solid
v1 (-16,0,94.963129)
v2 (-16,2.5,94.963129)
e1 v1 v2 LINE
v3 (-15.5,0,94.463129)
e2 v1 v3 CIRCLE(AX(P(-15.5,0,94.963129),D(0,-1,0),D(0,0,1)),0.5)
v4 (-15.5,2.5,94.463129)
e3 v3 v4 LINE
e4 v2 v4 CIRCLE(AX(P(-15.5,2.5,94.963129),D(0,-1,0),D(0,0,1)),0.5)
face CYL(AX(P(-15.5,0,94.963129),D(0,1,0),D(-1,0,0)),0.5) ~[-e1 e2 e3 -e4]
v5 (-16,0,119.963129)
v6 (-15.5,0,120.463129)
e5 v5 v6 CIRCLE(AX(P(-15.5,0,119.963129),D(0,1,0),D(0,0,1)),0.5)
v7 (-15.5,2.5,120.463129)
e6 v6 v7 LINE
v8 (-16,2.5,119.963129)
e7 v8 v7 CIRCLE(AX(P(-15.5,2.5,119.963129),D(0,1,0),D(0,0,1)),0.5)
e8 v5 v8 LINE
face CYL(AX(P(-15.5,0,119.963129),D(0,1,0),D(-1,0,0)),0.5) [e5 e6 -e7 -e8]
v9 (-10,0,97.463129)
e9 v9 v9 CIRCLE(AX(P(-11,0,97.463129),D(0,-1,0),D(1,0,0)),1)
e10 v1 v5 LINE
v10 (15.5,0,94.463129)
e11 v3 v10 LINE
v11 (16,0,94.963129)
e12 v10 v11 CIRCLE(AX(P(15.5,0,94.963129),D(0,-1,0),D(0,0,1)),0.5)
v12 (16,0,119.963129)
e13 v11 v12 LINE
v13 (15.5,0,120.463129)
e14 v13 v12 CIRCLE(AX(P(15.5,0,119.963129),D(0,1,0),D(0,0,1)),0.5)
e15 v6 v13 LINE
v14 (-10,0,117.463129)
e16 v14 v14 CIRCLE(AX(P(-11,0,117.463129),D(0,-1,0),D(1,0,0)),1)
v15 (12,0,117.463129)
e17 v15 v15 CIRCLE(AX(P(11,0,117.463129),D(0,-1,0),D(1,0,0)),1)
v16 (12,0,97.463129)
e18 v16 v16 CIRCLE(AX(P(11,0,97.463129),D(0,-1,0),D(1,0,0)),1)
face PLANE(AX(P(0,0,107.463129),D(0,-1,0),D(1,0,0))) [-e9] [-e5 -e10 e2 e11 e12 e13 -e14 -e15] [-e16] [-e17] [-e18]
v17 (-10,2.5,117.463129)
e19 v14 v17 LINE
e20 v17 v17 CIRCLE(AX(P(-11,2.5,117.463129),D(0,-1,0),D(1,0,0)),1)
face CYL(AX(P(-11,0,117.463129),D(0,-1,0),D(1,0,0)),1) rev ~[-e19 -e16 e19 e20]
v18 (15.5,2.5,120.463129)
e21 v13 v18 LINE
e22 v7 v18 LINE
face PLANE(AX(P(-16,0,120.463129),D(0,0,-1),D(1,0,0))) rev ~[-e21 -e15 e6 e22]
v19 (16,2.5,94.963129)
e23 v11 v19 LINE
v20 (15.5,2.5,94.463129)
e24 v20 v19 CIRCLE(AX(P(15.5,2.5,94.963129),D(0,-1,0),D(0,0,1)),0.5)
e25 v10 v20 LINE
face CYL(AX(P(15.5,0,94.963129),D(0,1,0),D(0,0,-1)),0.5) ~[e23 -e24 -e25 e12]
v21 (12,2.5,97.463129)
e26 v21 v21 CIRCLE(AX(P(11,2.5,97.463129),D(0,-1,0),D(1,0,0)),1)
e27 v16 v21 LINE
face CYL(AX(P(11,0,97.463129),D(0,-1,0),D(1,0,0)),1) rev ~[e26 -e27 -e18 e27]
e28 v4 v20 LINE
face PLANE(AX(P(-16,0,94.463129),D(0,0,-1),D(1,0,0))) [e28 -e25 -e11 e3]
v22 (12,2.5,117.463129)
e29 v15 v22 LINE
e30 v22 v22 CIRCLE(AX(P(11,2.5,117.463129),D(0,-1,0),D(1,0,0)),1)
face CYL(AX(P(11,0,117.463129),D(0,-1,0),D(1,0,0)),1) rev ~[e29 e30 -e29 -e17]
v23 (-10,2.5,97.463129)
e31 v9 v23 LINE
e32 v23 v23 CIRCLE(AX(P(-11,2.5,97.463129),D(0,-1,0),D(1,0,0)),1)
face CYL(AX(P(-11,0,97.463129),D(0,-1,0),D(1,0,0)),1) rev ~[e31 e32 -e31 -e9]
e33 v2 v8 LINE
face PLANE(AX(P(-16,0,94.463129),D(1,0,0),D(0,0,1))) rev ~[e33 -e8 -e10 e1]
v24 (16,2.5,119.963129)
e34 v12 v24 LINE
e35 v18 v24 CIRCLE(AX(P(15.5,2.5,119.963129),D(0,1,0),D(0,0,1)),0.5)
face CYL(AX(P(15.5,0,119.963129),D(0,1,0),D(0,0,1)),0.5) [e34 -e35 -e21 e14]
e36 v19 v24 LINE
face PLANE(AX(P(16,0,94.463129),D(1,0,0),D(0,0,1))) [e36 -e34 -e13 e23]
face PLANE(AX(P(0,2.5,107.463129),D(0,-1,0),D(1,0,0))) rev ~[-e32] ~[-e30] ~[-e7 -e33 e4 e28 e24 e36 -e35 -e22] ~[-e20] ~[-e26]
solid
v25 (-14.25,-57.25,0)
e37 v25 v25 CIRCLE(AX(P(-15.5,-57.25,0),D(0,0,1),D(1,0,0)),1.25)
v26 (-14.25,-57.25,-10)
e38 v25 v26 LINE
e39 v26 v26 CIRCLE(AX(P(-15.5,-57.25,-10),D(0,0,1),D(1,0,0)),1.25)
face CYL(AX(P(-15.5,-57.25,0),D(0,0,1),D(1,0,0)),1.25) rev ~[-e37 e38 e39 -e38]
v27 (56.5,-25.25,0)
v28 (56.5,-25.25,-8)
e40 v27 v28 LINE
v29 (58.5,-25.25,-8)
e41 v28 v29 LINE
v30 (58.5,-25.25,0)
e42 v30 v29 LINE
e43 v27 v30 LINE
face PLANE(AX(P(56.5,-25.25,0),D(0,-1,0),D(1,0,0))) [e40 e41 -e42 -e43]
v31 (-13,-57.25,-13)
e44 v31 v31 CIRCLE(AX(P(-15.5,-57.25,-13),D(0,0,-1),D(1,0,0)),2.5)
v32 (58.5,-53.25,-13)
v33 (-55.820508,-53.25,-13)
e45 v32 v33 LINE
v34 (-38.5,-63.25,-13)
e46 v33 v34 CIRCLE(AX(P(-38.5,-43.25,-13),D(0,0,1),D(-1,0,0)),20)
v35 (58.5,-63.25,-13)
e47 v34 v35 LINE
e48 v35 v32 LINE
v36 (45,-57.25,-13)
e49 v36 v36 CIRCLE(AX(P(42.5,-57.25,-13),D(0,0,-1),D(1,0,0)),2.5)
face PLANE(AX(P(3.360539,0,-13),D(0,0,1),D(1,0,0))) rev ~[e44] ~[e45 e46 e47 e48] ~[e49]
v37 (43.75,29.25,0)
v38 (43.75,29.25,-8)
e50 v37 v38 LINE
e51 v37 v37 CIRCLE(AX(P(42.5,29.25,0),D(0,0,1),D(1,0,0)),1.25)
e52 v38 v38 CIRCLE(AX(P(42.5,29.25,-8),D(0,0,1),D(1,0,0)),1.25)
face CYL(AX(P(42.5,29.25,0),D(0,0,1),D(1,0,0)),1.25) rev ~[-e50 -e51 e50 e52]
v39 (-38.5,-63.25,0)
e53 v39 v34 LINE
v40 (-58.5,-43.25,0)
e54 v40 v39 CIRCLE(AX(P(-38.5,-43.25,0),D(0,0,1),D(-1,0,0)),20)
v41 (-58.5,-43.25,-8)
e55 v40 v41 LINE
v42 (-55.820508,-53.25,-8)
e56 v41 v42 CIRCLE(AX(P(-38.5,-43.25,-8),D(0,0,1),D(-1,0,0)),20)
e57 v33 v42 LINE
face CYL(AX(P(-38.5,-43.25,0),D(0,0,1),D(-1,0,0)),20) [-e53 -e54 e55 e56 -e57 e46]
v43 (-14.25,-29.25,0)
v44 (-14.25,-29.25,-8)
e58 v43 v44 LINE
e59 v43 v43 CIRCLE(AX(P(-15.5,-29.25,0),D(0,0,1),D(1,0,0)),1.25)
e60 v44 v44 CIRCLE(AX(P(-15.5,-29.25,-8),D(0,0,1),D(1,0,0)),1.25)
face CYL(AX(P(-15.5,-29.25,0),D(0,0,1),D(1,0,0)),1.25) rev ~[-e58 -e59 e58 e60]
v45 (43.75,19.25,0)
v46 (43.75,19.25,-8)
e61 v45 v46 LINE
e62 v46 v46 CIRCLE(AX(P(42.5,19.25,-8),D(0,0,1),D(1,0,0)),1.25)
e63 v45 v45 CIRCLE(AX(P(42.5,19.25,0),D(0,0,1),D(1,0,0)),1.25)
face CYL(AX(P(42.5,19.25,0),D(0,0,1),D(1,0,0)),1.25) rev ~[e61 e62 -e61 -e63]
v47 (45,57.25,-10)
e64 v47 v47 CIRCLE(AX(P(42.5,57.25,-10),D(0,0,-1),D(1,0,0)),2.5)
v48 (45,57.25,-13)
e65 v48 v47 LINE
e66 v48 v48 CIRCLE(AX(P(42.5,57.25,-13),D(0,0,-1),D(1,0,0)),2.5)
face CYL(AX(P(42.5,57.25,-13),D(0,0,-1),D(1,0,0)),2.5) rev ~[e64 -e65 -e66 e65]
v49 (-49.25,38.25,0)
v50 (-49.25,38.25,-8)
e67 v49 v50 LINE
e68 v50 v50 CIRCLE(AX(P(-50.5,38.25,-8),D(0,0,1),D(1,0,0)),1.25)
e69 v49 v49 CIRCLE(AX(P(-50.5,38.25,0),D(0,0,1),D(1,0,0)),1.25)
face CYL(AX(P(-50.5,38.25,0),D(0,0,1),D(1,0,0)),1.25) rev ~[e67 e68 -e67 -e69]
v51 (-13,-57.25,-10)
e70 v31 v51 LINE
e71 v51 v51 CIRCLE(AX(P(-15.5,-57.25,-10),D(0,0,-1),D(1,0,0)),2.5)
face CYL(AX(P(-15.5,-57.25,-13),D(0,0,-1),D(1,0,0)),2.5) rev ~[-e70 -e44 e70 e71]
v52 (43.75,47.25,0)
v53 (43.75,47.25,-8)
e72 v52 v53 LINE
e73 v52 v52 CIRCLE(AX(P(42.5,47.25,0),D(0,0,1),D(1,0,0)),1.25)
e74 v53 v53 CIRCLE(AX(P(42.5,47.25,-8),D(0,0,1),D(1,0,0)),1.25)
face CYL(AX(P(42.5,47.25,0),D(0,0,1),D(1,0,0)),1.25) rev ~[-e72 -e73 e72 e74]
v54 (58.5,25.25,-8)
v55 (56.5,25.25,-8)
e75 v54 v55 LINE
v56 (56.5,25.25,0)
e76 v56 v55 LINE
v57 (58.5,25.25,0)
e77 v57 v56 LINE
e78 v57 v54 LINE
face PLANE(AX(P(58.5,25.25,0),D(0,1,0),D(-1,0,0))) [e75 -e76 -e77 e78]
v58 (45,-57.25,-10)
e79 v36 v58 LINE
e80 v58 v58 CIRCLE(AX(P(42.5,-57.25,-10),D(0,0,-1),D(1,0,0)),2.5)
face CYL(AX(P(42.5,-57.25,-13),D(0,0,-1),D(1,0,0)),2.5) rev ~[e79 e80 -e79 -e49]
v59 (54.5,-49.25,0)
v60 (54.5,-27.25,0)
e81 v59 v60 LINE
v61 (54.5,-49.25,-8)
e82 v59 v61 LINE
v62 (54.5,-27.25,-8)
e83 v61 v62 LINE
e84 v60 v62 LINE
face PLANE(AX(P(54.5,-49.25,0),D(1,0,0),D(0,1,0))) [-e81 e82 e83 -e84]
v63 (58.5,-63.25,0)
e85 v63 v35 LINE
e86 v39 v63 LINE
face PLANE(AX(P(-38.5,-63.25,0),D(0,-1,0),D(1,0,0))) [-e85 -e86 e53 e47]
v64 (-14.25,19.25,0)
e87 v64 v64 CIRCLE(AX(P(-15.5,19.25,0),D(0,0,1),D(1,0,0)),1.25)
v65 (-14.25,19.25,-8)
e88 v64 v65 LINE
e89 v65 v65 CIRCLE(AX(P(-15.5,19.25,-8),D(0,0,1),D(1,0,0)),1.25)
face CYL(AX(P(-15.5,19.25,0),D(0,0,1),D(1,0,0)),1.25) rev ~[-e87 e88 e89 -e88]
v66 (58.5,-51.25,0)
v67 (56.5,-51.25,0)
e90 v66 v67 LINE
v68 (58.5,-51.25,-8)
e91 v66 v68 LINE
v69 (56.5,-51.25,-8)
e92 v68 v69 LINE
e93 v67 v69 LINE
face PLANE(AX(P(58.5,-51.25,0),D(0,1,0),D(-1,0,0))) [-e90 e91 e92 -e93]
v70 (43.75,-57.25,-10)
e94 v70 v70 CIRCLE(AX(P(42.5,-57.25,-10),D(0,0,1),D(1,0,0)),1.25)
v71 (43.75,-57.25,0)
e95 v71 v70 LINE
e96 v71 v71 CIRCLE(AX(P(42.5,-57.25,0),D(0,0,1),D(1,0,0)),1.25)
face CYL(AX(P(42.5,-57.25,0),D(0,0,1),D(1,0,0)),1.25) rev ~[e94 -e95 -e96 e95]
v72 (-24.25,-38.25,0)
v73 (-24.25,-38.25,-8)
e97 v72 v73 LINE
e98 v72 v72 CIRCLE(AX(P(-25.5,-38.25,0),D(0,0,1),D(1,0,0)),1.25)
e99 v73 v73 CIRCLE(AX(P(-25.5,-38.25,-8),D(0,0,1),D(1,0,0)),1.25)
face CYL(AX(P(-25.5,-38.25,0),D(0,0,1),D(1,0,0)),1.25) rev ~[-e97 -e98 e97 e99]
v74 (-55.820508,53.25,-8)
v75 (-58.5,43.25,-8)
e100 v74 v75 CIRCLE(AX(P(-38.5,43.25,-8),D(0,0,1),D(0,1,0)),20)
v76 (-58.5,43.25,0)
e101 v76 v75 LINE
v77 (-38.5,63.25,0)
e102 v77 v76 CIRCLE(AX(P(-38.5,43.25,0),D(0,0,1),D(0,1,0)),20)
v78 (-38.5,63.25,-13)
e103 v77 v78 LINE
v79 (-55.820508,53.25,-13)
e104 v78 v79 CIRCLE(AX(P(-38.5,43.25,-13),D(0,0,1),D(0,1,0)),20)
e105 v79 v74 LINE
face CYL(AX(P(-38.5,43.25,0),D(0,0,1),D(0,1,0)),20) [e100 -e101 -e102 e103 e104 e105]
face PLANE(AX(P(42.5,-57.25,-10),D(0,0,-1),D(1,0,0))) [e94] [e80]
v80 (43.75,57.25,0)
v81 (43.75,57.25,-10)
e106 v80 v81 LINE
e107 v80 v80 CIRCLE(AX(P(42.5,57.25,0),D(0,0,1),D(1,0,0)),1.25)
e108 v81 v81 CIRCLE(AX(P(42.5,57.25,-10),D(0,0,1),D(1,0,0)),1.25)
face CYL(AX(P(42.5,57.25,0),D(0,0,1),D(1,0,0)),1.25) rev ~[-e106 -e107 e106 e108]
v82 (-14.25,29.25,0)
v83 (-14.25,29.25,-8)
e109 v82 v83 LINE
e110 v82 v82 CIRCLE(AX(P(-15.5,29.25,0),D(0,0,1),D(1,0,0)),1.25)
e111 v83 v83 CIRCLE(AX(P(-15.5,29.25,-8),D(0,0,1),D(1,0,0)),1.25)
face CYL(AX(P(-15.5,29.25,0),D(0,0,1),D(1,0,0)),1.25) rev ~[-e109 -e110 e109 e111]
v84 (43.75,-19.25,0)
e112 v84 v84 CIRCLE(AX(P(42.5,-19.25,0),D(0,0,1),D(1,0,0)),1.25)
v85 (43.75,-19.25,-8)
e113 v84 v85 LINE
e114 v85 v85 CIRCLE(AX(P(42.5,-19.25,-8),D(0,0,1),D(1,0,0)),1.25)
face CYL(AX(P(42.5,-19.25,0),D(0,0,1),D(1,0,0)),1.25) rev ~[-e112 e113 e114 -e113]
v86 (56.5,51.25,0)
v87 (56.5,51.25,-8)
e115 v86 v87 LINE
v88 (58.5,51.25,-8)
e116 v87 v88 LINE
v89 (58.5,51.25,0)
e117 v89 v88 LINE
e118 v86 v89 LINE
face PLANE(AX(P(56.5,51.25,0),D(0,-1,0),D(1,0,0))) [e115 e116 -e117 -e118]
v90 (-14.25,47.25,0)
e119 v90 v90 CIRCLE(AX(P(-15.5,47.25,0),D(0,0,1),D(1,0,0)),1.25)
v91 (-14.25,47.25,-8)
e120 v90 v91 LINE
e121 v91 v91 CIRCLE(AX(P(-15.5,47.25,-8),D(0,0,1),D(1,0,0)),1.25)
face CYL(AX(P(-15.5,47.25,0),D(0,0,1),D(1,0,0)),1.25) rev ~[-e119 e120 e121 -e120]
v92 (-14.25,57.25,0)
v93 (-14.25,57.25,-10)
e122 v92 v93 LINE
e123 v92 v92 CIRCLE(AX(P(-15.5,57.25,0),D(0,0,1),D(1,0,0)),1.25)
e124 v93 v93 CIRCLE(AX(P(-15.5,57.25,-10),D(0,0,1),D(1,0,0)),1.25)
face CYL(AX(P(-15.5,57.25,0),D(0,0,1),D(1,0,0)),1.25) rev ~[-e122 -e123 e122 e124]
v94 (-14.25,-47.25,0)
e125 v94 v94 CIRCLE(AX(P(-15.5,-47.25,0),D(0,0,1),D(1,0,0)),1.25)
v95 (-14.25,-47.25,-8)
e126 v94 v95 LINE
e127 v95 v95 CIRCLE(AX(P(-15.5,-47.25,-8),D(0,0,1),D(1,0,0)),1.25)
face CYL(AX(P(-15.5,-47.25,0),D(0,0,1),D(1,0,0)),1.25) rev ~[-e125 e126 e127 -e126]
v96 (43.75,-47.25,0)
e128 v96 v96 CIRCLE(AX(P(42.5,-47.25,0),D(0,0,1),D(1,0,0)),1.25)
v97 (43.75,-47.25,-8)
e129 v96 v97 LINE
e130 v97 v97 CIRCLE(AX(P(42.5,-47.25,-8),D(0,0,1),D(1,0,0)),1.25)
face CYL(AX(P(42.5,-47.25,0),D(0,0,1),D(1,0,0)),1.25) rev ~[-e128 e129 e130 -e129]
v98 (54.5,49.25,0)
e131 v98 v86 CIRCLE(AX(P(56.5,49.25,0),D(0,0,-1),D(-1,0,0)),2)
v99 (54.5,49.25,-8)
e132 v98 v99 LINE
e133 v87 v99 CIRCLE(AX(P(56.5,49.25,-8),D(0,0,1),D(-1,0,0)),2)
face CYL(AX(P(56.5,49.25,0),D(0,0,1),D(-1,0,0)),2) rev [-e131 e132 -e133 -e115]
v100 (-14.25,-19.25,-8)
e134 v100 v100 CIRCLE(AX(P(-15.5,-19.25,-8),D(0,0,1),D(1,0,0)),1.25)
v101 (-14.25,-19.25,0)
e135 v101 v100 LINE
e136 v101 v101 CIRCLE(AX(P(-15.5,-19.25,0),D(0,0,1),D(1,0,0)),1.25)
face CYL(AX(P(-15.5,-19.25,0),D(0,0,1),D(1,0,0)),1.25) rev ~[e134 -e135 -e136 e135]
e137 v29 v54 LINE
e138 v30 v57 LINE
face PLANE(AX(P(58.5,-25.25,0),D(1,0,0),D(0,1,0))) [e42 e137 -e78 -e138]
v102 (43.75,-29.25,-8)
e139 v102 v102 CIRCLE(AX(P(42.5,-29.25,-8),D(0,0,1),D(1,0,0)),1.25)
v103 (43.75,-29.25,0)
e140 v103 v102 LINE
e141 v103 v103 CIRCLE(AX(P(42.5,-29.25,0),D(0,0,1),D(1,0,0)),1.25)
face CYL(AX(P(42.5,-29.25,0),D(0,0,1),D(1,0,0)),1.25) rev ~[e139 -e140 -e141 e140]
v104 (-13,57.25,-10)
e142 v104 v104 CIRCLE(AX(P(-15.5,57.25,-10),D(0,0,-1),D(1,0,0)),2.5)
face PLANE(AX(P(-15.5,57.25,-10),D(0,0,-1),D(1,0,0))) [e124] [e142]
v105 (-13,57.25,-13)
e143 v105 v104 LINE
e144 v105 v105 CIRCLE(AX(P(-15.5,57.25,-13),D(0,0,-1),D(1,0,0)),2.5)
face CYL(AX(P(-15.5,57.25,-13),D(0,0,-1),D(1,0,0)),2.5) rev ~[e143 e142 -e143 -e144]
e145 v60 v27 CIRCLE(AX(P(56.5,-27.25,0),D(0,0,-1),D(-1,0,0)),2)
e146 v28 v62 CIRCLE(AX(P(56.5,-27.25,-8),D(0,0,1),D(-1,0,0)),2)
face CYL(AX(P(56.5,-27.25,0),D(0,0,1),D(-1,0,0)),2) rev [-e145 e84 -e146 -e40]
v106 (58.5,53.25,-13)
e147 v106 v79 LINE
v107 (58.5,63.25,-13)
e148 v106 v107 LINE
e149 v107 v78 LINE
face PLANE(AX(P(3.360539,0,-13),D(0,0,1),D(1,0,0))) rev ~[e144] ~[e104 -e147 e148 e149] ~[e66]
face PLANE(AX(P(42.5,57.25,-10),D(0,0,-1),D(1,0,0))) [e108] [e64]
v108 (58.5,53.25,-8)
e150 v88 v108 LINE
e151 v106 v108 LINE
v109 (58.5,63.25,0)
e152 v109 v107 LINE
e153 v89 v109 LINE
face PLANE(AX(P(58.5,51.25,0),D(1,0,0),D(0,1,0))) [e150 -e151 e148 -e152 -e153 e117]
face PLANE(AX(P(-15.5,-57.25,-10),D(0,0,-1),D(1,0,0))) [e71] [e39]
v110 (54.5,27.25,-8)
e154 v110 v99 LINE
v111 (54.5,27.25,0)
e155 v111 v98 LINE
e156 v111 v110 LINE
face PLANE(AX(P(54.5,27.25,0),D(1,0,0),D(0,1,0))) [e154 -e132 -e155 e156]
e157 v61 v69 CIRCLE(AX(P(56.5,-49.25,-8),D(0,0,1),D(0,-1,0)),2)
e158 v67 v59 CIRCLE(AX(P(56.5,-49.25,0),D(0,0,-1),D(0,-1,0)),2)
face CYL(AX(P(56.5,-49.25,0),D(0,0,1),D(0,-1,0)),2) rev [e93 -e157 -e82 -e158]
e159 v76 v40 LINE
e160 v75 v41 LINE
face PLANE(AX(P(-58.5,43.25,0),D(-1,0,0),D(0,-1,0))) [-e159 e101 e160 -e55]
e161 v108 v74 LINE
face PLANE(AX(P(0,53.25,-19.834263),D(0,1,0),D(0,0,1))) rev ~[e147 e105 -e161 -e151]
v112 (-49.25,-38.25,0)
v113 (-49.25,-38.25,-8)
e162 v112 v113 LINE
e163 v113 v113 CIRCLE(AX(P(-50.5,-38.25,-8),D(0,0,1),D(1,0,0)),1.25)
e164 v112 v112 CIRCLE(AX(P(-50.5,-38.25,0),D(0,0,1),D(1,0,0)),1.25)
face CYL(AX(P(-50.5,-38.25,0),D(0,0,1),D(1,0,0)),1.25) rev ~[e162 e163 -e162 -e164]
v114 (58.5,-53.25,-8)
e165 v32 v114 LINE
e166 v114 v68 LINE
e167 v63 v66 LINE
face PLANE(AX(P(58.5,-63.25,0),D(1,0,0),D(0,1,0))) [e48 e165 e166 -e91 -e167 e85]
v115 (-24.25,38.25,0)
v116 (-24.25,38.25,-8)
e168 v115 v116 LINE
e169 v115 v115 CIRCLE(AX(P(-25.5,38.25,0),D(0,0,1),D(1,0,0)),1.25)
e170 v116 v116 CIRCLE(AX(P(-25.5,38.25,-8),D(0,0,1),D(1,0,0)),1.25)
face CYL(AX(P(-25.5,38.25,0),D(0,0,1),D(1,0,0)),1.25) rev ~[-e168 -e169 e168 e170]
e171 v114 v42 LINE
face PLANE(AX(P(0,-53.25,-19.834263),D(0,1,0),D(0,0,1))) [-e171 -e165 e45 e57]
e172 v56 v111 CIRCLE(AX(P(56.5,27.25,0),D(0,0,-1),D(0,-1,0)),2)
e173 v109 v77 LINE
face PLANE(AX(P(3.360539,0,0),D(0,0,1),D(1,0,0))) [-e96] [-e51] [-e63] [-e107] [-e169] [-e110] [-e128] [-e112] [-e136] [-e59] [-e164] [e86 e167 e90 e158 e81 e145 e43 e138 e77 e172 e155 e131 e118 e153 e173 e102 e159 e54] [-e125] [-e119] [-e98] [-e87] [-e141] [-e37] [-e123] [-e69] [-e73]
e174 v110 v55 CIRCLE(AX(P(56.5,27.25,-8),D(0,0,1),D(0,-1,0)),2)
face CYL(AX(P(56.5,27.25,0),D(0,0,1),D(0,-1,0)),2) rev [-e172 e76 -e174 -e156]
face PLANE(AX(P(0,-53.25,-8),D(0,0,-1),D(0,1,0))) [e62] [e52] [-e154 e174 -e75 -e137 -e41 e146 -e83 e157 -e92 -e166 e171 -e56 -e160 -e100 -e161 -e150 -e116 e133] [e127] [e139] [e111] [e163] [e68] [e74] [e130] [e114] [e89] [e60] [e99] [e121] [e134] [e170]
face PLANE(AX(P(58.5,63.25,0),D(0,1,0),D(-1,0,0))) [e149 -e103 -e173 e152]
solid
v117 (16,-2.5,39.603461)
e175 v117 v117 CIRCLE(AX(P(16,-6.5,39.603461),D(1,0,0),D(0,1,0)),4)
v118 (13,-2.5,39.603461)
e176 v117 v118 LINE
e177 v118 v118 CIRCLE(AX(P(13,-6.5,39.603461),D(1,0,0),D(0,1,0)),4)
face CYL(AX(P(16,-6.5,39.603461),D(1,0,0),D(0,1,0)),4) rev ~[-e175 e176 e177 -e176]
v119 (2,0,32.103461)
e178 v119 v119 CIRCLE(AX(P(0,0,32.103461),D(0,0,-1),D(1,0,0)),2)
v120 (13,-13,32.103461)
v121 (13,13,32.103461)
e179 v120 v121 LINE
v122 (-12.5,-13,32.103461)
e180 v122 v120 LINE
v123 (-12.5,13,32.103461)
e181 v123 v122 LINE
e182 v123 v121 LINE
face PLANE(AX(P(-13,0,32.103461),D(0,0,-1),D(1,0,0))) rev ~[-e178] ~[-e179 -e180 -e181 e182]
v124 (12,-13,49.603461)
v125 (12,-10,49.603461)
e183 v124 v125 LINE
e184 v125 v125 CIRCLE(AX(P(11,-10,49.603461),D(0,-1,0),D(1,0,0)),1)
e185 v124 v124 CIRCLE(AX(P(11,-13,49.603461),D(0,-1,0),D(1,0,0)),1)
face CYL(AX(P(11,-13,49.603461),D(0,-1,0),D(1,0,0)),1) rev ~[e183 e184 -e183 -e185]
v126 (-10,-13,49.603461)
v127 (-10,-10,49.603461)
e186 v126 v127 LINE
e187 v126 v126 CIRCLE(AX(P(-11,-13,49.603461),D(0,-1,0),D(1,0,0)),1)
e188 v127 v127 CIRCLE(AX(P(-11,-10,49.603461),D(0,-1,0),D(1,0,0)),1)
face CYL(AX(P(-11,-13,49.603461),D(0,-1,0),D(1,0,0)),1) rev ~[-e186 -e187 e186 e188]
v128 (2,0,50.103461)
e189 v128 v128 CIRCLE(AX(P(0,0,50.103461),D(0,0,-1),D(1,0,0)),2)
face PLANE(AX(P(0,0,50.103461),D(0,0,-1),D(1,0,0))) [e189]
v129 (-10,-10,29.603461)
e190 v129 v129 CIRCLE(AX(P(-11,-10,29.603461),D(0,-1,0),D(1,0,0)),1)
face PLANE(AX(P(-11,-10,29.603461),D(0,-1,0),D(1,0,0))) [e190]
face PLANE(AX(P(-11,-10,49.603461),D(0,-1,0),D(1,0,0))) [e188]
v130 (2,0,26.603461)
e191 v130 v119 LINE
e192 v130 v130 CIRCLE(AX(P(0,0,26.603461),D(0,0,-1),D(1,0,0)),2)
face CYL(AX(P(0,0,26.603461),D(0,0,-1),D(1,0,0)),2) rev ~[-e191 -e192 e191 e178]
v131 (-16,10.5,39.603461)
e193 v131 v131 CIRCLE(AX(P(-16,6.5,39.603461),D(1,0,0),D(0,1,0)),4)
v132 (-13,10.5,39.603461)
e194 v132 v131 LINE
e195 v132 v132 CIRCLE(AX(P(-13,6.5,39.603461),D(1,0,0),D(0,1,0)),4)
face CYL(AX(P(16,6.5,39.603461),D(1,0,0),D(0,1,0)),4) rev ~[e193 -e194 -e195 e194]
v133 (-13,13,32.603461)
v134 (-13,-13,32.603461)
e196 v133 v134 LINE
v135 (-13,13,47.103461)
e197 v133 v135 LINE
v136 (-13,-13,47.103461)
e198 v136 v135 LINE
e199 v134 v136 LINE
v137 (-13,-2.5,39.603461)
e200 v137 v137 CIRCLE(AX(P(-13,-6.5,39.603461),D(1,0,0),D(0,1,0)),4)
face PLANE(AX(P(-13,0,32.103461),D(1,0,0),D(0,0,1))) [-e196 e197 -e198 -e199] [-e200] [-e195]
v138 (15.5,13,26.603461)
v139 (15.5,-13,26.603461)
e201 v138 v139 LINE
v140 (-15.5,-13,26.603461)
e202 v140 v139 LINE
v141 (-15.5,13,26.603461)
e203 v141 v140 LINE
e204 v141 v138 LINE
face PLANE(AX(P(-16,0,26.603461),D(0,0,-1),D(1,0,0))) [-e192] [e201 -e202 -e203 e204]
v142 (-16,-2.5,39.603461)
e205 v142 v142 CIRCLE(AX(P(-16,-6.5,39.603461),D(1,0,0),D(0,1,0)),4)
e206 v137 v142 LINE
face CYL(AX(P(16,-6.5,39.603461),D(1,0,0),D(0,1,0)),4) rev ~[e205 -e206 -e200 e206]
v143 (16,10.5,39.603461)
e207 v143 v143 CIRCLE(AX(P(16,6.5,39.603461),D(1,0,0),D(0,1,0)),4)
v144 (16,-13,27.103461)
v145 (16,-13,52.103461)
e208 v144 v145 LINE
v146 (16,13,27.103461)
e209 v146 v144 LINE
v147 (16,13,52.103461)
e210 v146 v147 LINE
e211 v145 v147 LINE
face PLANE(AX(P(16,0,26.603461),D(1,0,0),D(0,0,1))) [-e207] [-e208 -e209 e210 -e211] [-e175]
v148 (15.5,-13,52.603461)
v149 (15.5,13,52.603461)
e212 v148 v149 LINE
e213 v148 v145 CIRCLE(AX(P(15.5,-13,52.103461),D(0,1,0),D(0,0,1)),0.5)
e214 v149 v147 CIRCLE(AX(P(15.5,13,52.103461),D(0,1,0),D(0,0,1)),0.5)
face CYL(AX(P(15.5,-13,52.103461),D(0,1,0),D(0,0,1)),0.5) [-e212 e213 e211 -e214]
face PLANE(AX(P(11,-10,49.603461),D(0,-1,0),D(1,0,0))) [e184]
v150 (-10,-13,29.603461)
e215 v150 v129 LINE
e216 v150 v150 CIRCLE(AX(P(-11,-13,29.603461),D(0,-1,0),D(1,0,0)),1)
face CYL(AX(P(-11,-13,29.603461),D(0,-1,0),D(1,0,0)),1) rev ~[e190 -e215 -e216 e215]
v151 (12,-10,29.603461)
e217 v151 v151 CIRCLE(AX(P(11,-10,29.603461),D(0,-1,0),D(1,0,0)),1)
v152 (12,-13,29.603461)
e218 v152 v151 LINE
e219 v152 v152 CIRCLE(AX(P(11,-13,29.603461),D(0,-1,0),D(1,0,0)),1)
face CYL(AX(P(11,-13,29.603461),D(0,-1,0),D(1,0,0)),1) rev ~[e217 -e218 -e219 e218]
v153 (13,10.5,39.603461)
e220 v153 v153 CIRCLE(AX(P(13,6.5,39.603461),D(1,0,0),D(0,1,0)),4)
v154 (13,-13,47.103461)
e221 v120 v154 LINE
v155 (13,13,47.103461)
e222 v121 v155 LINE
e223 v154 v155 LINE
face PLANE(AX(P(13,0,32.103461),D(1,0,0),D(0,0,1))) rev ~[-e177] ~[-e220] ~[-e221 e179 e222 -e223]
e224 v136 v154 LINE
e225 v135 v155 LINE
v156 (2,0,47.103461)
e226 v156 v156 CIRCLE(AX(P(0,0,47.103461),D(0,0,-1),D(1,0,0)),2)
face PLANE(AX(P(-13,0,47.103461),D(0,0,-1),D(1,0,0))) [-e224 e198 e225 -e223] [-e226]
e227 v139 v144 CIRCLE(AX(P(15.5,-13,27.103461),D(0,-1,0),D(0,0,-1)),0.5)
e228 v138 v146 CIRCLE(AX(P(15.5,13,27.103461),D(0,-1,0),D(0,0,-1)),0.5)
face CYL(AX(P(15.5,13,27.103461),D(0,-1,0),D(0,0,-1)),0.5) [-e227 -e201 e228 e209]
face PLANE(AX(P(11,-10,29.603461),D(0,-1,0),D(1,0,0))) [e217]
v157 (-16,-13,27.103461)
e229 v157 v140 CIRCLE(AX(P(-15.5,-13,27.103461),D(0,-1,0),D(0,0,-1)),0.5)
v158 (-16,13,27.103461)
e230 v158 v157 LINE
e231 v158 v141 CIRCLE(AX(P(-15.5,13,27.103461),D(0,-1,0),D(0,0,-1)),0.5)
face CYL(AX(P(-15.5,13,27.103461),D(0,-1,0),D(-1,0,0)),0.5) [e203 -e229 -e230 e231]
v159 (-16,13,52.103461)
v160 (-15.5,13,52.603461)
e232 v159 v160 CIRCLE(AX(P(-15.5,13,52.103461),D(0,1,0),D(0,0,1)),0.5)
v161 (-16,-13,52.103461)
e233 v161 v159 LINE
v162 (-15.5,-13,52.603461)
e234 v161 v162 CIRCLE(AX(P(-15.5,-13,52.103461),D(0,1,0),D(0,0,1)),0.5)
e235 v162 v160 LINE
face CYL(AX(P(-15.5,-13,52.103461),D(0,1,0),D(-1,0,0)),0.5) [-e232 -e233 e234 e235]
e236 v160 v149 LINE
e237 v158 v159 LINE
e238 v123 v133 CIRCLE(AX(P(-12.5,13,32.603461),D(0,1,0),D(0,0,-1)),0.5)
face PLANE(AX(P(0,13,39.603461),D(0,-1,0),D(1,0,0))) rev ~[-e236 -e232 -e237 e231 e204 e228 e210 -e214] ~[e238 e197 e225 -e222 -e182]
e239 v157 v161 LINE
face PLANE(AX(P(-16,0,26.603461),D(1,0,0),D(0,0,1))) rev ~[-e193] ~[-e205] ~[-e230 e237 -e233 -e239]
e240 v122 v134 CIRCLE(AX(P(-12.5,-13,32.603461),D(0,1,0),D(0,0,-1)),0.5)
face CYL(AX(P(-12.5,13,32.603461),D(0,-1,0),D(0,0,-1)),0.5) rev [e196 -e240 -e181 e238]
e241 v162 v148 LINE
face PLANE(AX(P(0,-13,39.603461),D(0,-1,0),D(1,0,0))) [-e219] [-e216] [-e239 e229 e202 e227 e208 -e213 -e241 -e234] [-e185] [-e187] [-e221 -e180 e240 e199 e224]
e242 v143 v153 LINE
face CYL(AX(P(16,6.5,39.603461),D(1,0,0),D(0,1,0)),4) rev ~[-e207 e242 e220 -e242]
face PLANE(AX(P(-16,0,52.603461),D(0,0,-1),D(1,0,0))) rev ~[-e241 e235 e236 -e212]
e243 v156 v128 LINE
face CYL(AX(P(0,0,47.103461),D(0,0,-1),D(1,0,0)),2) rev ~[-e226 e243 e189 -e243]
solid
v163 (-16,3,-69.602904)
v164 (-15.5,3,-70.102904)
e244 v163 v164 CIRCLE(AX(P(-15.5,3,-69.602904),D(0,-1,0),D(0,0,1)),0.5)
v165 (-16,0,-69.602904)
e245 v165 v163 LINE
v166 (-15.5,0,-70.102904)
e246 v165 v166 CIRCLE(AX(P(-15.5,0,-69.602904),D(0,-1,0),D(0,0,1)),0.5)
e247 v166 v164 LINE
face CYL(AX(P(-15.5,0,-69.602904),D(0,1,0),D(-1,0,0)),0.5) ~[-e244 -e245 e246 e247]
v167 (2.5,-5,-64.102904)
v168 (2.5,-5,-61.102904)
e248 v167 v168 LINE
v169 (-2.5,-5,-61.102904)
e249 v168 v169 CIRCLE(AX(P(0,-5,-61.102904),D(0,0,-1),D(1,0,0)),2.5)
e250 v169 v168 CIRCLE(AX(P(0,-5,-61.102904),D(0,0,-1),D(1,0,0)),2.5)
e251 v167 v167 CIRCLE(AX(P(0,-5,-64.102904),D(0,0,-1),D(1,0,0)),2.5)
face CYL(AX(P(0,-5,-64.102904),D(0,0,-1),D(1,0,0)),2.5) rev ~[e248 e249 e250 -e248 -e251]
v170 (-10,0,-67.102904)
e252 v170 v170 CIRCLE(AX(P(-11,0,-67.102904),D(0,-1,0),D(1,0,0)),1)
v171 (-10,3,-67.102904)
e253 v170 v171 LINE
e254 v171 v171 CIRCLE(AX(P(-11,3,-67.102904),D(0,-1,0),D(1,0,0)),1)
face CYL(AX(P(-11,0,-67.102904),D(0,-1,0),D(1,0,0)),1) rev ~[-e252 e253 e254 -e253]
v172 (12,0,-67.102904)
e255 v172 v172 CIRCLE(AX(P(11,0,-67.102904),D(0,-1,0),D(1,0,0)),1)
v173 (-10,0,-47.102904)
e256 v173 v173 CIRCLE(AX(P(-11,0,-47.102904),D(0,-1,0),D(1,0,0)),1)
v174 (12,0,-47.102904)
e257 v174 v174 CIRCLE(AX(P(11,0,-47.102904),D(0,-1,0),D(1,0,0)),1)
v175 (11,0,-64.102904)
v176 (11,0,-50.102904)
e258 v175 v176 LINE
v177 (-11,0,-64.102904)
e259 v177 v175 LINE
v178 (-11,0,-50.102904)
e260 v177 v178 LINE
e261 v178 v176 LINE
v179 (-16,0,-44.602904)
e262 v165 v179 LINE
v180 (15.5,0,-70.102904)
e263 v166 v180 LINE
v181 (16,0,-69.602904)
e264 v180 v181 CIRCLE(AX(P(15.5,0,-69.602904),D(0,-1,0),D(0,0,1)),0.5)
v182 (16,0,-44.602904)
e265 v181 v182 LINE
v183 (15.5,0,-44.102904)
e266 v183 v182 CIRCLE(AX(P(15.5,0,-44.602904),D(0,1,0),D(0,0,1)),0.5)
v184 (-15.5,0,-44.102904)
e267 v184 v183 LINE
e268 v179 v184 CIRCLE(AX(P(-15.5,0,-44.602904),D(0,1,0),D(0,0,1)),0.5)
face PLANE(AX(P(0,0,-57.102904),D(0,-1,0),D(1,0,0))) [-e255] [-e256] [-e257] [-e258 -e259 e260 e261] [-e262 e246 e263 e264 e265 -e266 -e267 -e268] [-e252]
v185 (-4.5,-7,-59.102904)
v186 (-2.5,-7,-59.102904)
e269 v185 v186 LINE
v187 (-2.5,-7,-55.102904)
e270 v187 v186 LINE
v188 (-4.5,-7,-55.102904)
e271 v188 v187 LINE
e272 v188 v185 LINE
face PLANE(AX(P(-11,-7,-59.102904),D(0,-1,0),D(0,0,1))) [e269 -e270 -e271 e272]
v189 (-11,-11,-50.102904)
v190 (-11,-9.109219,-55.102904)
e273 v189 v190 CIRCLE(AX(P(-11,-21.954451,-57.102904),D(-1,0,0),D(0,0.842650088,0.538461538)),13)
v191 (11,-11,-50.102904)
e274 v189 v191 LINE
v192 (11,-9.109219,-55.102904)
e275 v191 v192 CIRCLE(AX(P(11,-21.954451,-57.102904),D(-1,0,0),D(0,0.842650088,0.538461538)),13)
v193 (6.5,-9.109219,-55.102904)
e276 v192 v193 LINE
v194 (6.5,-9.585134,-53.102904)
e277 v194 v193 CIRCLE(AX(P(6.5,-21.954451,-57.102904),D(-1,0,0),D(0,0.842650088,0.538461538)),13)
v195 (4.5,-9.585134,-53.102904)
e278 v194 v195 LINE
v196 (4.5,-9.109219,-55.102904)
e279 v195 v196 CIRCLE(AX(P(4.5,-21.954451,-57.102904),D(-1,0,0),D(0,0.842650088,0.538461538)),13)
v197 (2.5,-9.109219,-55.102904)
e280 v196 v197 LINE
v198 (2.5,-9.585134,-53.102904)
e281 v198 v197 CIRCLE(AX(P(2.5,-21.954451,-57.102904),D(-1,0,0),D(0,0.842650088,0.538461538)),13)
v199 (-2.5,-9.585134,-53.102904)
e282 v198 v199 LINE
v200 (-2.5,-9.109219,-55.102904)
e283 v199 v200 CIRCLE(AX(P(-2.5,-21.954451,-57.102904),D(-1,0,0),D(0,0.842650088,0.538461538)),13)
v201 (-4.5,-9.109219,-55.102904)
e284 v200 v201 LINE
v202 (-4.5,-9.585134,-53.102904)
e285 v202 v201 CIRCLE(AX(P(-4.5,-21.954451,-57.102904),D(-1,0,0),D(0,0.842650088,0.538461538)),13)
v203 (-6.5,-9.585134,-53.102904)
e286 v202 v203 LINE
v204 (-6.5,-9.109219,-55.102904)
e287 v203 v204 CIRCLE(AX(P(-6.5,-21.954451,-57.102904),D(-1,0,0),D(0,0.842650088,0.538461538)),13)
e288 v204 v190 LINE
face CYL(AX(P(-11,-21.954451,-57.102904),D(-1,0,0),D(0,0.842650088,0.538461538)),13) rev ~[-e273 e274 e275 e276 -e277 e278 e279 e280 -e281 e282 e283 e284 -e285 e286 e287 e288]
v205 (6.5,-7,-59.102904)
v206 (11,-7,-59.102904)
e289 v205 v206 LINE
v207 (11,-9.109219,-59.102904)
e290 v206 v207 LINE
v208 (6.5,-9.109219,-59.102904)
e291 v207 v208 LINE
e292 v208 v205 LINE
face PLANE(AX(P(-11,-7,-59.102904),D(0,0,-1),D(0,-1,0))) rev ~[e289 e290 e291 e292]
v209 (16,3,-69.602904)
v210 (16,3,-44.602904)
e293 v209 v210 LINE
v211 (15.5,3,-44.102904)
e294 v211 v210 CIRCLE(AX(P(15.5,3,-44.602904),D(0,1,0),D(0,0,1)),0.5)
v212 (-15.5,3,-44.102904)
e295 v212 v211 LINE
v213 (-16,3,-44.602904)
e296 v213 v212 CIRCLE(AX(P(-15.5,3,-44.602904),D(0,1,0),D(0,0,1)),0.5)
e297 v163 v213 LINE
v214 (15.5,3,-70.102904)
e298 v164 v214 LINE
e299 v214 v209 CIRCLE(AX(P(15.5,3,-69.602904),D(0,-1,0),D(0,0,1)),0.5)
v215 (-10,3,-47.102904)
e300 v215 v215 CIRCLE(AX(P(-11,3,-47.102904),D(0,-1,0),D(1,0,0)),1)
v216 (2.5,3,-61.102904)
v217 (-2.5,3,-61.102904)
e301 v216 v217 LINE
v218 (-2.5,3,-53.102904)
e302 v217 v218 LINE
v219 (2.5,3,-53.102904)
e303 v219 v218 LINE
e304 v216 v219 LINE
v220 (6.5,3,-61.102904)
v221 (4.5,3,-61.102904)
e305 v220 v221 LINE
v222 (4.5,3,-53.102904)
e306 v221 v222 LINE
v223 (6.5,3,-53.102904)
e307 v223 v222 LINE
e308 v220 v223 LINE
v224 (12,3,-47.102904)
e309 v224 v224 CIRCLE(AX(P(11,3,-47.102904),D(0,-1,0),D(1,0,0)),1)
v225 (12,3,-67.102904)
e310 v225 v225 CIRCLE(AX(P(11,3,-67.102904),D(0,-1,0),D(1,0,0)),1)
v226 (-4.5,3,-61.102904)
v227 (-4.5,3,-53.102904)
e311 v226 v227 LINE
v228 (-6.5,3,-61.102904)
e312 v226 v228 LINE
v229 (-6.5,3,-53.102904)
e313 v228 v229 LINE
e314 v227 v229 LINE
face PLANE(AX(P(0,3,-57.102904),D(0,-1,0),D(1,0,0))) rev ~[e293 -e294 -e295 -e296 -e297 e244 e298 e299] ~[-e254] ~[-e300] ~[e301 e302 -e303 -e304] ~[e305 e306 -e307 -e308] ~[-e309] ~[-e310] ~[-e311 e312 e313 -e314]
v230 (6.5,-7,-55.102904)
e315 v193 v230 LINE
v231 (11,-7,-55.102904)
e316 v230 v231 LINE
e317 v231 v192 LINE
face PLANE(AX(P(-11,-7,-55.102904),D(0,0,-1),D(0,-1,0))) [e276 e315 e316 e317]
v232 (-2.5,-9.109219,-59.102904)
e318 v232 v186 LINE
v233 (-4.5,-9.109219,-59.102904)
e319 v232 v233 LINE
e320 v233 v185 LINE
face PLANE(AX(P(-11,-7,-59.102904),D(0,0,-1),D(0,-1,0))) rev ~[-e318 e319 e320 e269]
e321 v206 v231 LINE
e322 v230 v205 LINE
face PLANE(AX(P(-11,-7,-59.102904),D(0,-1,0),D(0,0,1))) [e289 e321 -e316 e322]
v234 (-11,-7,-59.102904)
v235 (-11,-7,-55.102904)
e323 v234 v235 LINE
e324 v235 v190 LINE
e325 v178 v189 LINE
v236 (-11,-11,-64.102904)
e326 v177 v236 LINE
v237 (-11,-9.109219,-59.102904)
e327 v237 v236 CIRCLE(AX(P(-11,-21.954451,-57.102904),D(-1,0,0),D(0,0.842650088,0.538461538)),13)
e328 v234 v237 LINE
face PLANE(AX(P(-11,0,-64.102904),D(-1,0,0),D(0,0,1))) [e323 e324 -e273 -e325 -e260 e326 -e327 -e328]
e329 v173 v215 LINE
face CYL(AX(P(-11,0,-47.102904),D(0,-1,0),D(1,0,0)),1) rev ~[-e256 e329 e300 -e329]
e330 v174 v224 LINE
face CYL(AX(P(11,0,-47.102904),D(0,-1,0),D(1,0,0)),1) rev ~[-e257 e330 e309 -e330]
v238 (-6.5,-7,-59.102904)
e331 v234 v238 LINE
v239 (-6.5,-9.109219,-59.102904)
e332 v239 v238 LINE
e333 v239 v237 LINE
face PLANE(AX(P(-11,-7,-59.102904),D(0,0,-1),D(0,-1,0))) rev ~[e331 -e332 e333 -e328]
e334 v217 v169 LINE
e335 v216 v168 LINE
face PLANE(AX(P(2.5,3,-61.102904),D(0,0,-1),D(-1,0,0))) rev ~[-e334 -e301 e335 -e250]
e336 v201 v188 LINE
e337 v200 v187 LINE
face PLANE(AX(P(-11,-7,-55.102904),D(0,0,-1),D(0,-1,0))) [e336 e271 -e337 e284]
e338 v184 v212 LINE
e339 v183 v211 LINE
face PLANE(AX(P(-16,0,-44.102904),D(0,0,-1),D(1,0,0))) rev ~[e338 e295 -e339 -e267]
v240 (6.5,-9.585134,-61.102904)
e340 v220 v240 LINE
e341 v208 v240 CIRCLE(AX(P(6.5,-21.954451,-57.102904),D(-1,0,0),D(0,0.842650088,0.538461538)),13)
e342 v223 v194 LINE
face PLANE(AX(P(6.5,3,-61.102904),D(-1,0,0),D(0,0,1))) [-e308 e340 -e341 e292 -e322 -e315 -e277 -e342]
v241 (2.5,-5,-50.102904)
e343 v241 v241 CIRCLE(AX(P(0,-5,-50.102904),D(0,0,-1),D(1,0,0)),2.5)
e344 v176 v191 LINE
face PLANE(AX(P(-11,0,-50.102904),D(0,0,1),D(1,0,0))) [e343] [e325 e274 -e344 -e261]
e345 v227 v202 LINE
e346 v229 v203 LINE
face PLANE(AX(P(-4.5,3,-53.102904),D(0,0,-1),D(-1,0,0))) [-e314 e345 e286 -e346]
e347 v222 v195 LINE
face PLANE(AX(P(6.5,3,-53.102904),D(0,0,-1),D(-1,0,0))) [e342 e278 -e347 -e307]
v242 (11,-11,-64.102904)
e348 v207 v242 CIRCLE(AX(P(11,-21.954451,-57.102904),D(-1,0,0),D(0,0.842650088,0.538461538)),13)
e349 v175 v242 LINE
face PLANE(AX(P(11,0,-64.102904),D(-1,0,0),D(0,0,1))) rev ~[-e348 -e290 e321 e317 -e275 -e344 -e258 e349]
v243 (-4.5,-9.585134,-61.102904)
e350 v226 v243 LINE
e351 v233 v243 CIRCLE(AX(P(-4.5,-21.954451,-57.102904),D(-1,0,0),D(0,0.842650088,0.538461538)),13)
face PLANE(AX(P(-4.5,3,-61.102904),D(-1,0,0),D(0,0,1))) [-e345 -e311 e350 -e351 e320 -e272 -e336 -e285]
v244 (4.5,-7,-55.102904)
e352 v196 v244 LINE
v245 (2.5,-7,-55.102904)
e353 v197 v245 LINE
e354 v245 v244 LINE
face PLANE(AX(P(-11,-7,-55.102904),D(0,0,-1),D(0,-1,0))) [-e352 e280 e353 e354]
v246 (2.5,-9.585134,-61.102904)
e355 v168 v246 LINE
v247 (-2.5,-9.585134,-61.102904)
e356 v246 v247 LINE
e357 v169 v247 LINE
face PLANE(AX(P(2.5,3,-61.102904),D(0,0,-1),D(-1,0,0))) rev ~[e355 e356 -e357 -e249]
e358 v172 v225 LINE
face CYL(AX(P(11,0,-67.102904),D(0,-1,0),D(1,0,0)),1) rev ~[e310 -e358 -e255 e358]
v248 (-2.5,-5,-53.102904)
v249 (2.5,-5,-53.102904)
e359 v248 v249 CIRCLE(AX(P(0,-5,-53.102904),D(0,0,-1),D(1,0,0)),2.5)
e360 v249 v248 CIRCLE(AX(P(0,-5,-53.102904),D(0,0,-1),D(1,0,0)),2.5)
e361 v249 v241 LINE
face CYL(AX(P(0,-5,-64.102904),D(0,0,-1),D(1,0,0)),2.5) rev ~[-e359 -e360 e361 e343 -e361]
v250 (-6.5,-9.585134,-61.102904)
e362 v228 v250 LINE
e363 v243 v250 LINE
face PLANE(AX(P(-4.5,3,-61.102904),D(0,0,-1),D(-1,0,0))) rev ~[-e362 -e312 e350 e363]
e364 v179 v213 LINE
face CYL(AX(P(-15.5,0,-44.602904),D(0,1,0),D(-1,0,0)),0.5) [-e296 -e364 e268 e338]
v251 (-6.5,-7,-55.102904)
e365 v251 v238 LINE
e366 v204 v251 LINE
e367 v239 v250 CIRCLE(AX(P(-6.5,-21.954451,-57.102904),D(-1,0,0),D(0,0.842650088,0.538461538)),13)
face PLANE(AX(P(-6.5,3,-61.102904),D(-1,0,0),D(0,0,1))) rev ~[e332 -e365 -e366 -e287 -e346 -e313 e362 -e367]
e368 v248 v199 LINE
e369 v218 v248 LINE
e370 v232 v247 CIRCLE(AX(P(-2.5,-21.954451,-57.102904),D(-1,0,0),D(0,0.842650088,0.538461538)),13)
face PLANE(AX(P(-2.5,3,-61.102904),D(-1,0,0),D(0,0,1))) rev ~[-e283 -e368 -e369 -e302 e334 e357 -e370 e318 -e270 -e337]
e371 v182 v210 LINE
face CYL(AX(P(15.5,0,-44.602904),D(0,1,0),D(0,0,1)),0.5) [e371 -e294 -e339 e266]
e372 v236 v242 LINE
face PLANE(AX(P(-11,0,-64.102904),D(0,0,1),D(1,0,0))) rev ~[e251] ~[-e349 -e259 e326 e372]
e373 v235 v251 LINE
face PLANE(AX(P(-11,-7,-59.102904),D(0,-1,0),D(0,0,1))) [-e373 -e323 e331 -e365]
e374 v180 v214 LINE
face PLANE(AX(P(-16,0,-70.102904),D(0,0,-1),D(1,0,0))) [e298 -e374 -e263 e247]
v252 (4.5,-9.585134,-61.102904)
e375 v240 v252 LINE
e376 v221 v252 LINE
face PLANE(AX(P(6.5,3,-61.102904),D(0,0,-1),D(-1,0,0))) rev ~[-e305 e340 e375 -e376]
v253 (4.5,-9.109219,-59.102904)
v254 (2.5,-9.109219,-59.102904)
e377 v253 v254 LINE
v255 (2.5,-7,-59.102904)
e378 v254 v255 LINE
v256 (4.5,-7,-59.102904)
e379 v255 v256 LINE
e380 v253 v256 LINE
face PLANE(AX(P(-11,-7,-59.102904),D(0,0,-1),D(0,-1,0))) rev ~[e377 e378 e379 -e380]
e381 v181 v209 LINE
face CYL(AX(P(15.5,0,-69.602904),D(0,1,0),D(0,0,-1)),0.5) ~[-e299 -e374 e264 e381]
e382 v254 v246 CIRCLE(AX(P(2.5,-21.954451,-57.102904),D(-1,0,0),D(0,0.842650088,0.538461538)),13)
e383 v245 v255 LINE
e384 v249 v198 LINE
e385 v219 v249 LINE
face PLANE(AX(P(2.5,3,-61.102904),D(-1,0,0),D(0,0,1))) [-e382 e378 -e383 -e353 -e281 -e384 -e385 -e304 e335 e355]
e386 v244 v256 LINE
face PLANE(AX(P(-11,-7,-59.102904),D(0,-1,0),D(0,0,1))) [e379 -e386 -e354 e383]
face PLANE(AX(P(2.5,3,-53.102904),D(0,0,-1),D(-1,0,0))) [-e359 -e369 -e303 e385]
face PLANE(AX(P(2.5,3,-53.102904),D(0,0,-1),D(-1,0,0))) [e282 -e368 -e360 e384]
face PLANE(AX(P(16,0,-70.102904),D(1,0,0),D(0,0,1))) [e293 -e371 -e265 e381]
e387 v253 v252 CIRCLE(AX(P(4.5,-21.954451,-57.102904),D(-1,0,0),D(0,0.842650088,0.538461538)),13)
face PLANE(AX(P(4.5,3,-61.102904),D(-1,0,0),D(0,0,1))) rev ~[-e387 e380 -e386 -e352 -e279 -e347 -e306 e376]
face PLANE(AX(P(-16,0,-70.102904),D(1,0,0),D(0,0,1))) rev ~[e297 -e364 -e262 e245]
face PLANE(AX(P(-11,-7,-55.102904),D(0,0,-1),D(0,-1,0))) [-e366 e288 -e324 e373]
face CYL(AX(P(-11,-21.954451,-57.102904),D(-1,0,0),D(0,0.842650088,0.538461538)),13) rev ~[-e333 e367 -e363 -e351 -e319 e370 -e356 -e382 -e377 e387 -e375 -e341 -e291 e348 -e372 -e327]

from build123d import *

# Parameters (mm, degrees)
F0_R      = 1.25
F1_DEPTH  = 13
F2_W      = 106.5
F2_H      = 11.8342628703
F3_DEPTH  = 60
F4_R      = 2.5
F5_DEPTH  = 3
F6_R      = 2.5
F7_DEPTH  = 3
F8_W      = 32
F8_H      = 26
F8_W_2    = 26
F8_H_2    = 15
F9_DEPTH  = 13
F10_R     = 1
F11_DEPTH = 3
F12_R     = 4
F13_DEPTH = 35
F14_R     = 2
F15_DEPTH = 3
F16_R     = 2
F17_DEPTH = 12
F18_R     = 0.5
F19_W     = 32
F19_H     = 26
F19_R     = 1
F20_DEPTH = 2.5
F21_R     = 0.5
F22_W     = 32
F22_H     = 26
F22_R     = 1
F23_DEPTH = 3
F24_W     = 22
F24_H     = 14
F25_DEPTH = 11
F27_DEPTH = 25
F28_W     = 4.2011217096
F28_H     = 4
F29_DEPTH = 25
F30_W     = 5
F30_H     = 8
F30_W_2   = 2
F31_DEPTH = 25
F32_R     = 2.5
F33_DEPTH = 25
F34_R     = 0.5


with BuildPart() as f1:
    # F0 (on Top) → F1 (new body)
    with BuildSketch(Plane.XY):
        with BuildLine():
            Line((58.5, 51.25), (58.5, 63.25))
            Line((58.5, 63.25), (-38.5, 63.25))
            ThreePointArc((-38.5, 63.25), (-52.6421356237, 57.3921356237), (-58.5, 43.25))
            Line((-58.5, 43.25), (-58.5, -43.25))
            ThreePointArc((-58.5, -43.25), (-52.6421356237, -57.3921356237), (-38.5, -63.25))
            Line((-38.5, -63.25), (58.5, -63.25))
            Line((58.5, -63.25), (58.5, -51.25))
            Line((58.5, -51.25), (56.5, -51.25))
            ThreePointArc((56.5, -51.25), (55.0857864376, -50.6642135624), (54.5, -49.25))
            Line((54.5, -49.25), (54.5, -27.25))
            ThreePointArc((54.5, -27.25), (55.0857864376, -25.8357864376), (56.5, -25.25))
            Line((56.5, -25.25), (58.5, -25.25))
            Line((58.5, -25.25), (58.5, 25.25))
            Line((58.5, 25.25), (56.5, 25.25))
            ThreePointArc((56.5, 25.25), (55.0857864376, 25.8357864376), (54.5, 27.25))
            Line((54.5, 27.25), (54.5, 49.25))
            ThreePointArc((54.5, 49.25), (55.0857864376, 50.6642135624), (56.5, 51.25))
            Line((56.5, 51.25), (58.5, 51.25))
        make_face()
        with Locations((-50.5, -38.25)):
            Circle(F0_R, mode=Mode.SUBTRACT)
        with Locations((-15.5, -57.25)):
            Circle(F0_R, mode=Mode.SUBTRACT)
        with Locations((-15.5, -47.25)):
            Circle(F0_R, mode=Mode.SUBTRACT)
        with Locations((-25.5, -38.25)):
            Circle(F0_R, mode=Mode.SUBTRACT)
        with Locations((-15.5, -29.25)):
            Circle(F0_R, mode=Mode.SUBTRACT)
        with Locations((-15.5, -19.25)):
            Circle(F0_R, mode=Mode.SUBTRACT)
        with Locations((42.5, -57.25)):
            Circle(F0_R, mode=Mode.SUBTRACT)
        with Locations((42.5, -47.25)):
            Circle(F0_R, mode=Mode.SUBTRACT)
        with Locations((42.5, -29.25)):
            Circle(F0_R, mode=Mode.SUBTRACT)
        with Locations((42.5, -19.25)):
            Circle(F0_R, mode=Mode.SUBTRACT)
        with Locations((-15.5, 19.25)):
            Circle(F0_R, mode=Mode.SUBTRACT)
        with Locations((-15.5, 29.25)):
            Circle(F0_R, mode=Mode.SUBTRACT)
        with Locations((-50.5, 38.25)):
            Circle(F0_R, mode=Mode.SUBTRACT)
        with Locations((-25.5, 38.25)):
            Circle(F0_R, mode=Mode.SUBTRACT)
        with Locations((-15.5, 47.25)):
            Circle(F0_R, mode=Mode.SUBTRACT)
        with Locations((-15.5, 57.25)):
            Circle(F0_R, mode=Mode.SUBTRACT)
        with Locations((42.5, 19.25)):
            Circle(F0_R, mode=Mode.SUBTRACT)
        with Locations((42.5, 29.25)):
            Circle(F0_R, mode=Mode.SUBTRACT)
        with Locations((42.5, 47.25)):
            Circle(F0_R, mode=Mode.SUBTRACT)
        with Locations((42.5, 57.25)):
            Circle(F0_R, mode=Mode.SUBTRACT)
    extrude(amount=-F1_DEPTH)

    # F2 (on Right) → F3 (cut, symmetric)
    with BuildSketch(Plane.YZ):
        with Locations((0, -13.9171314351)):
            Rectangle(F2_W, F2_H)
    extrude(amount=F3_DEPTH, both=True, mode=Mode.SUBTRACT)

    # F4 (on face) → F5 (cut)
    with BuildSketch(Plane(origin=(0, 0, -13), x_dir=(1, 0, 0), z_dir=(0, 0, -1))):
        with Locations((-15.5, 57.25)):
            Circle(F4_R)
        with Locations((42.5, 57.25)):
            Circle(F4_R)
    extrude(amount=-F5_DEPTH, mode=Mode.SUBTRACT)

    # F6 (on face) → F7 (cut)
    with BuildSketch(Plane(origin=(0, 0, -13), x_dir=(1, 0, 0), z_dir=(0, 0, -1))):
        with Locations((-15.5, -57.25)):
            Circle(F6_R)
        with Locations((42.5, -57.25)):
            Circle(F6_R)
    extrude(amount=-F7_DEPTH, mode=Mode.SUBTRACT)


with BuildPart() as f9:
    # F8 (on Front) → F9 (new body, symmetric)
    with BuildSketch(Plane.XZ):
        with Locations((0, 39.6034605801)):
            Rectangle(F8_W, F8_H)
        with Locations((0, 39.6034605801)):
            Rectangle(F8_W_2, F8_H_2, mode=Mode.SUBTRACT)
    extrude(amount=F9_DEPTH, both=True)

    # F10 (on face) → F11 (cut)
    with BuildSketch(Plane.XZ.offset(13)):
        with Locations((-11, 49.6034605801)):
            Circle(F10_R)
        with Locations((11, 49.6034605801)):
            Circle(F10_R)
        with Locations((-11, 29.6034605801)):
            Circle(F10_R)
        with Locations((11, 29.6034605801)):
            Circle(F10_R)
    extrude(amount=-F11_DEPTH, mode=Mode.SUBTRACT)

    # F12 (on face) → F13 (cut)
    with BuildSketch(Plane.YZ.offset(16)):
        with Locations((-6.5, 39.6034605801)):
            Circle(F12_R)
        with Locations((6.5, 39.6034605801)):
            Circle(F12_R)
    extrude(amount=-F13_DEPTH, mode=Mode.SUBTRACT)

    # F14 (on face) → F15 (cut)
    with BuildSketch(Plane(origin=(0, 0, 47.1034605801), x_dir=(1, 0, 0), z_dir=(0, 0, -1))):
        Circle(F14_R)
    extrude(amount=-F15_DEPTH, mode=Mode.SUBTRACT)

    # F16 (on face) → F17 (cut)
    with BuildSketch(Plane(origin=(0, 0, 26.6034605801), x_dir=(1, 0, 0), z_dir=(0, 0, -1))):
        Circle(F16_R)
    extrude(amount=-F17_DEPTH, mode=Mode.SUBTRACT)

    # F18
    f18_edges = [f9.edges().sort_by_distance(p)[0] for p in [
        (16, 0, 52.603461),
        (-16, 0, 52.603461),
        (16, 0, 26.603461),
        (-13, 0, 32.103461),
        (-16, 0, 26.603461),
    ]]
    fillet(f18_edges, radius=F18_R)


with BuildPart() as f20:
    # F19 (on Front) → F20 (new body)
    with BuildSketch(Plane.XZ):
        with Locations((0, 107.4631288648)):
            Rectangle(F19_W, F19_H)
        with Locations((-11, 97.4631288648)):
            Circle(F19_R, mode=Mode.SUBTRACT)
        with Locations((11, 97.4631288648)):
            Circle(F19_R, mode=Mode.SUBTRACT)
        with Locations((-11, 117.4631288648)):
            Circle(F19_R, mode=Mode.SUBTRACT)
        with Locations((11, 117.4631288648)):
            Circle(F19_R, mode=Mode.SUBTRACT)
    extrude(amount=-F20_DEPTH)

    # F21
    f21_edges = [f20.edges().sort_by_distance(p)[0] for p in [
        (16, 1.25, 120.463129),
        (16, 1.25, 94.463129),
        (-16, 1.25, 120.463129),
        (-16, 1.25, 94.463129),
    ]]
    fillet(f21_edges, radius=F21_R)


with BuildPart() as f23:
    # F22 (on Front) → F23 (new body)
    with BuildSketch(Plane.XZ):
        with Locations((0, -57.1029037237)):
            Rectangle(F22_W, F22_H)
        with Locations((-11, -67.1029037237)):
            Circle(F22_R, mode=Mode.SUBTRACT)
        with Locations((11, -67.1029037237)):
            Circle(F22_R, mode=Mode.SUBTRACT)
        with Locations((-11, -47.1029037237)):
            Circle(F22_R, mode=Mode.SUBTRACT)
        with Locations((11, -47.1029037237)):
            Circle(F22_R, mode=Mode.SUBTRACT)
    extrude(amount=-F23_DEPTH)

    # F24 (on face) → F25 (join)
    with BuildSketch(Plane.XZ):
        with Locations((0, -57.1029037237)):
            Rectangle(F24_W, F24_H)
    extrude(amount=F25_DEPTH)

    # F26 (on face) → F27 (cut)
    with BuildSketch(Plane(origin=(-11, 0, 0), x_dir=(0, -1, 0), z_dir=(-1, 0, 0))):
        with BuildLine():
            Line((14.6111249924, -50.1029037237), (11, -50.1029037237))
            ThreePointArc((11, -50.1029037237), (8.9544511501, -57.1029037237), (11, -64.1029037237))
            Line((11, -64.1029037237), (14.6111249924, -64.1029037237))
            Line((14.6111249924, -64.1029037237), (14.6111249924, -50.1029037237))
        make_face()
    extrude(amount=-F27_DEPTH, mode=Mode.SUBTRACT)

    # F28 (on face) → F29 (cut)
    with BuildSketch(Plane(origin=(-11, 0, 0), x_dir=(0, -1, 0), z_dir=(-1, 0, 0))):
        with Locations((9.1005608548, -57.1029037237)):
            Rectangle(F28_W, F28_H)
    extrude(amount=-F29_DEPTH, mode=Mode.SUBTRACT)

    # F30 (on face) → F31 (cut)
    with BuildSketch(Plane(origin=(0, 3, 0), x_dir=(-1, 0, 0), z_dir=(0, 1, 0))):
        with Locations((0, -57.1029037237)):
            Rectangle(F30_W, F30_H)
        with Locations((-5.5, -57.1029037237)):
            Rectangle(F30_W_2, F30_H)
        with Locations((5.5, -57.1029037237)):
            Rectangle(F30_W_2, F30_H)
    extrude(amount=-F31_DEPTH, mode=Mode.SUBTRACT)

    # F32 (on face) → F33 (cut)
    with BuildSketch(Plane(origin=(0, 0, -64.1029037237), x_dir=(1, 0, 0), z_dir=(0, 0, -1))):
        with Locations((0, 5)):
            Circle(F32_R)
    extrude(amount=-F33_DEPTH, mode=Mode.SUBTRACT)

    # F34
    f34_edges = [f23.edges().sort_by_distance(p)[0] for p in [
        (16, 1.5, -70.102904),
        (16, 1.5, -44.102904),
        (-16, 1.5, -70.102904),
        (-16, 1.5, -44.102904),
    ]]
    fillet(f34_edges, radius=F34_R)


solid = Compound([f1.part, f9.part, f20.part, f23.part])
